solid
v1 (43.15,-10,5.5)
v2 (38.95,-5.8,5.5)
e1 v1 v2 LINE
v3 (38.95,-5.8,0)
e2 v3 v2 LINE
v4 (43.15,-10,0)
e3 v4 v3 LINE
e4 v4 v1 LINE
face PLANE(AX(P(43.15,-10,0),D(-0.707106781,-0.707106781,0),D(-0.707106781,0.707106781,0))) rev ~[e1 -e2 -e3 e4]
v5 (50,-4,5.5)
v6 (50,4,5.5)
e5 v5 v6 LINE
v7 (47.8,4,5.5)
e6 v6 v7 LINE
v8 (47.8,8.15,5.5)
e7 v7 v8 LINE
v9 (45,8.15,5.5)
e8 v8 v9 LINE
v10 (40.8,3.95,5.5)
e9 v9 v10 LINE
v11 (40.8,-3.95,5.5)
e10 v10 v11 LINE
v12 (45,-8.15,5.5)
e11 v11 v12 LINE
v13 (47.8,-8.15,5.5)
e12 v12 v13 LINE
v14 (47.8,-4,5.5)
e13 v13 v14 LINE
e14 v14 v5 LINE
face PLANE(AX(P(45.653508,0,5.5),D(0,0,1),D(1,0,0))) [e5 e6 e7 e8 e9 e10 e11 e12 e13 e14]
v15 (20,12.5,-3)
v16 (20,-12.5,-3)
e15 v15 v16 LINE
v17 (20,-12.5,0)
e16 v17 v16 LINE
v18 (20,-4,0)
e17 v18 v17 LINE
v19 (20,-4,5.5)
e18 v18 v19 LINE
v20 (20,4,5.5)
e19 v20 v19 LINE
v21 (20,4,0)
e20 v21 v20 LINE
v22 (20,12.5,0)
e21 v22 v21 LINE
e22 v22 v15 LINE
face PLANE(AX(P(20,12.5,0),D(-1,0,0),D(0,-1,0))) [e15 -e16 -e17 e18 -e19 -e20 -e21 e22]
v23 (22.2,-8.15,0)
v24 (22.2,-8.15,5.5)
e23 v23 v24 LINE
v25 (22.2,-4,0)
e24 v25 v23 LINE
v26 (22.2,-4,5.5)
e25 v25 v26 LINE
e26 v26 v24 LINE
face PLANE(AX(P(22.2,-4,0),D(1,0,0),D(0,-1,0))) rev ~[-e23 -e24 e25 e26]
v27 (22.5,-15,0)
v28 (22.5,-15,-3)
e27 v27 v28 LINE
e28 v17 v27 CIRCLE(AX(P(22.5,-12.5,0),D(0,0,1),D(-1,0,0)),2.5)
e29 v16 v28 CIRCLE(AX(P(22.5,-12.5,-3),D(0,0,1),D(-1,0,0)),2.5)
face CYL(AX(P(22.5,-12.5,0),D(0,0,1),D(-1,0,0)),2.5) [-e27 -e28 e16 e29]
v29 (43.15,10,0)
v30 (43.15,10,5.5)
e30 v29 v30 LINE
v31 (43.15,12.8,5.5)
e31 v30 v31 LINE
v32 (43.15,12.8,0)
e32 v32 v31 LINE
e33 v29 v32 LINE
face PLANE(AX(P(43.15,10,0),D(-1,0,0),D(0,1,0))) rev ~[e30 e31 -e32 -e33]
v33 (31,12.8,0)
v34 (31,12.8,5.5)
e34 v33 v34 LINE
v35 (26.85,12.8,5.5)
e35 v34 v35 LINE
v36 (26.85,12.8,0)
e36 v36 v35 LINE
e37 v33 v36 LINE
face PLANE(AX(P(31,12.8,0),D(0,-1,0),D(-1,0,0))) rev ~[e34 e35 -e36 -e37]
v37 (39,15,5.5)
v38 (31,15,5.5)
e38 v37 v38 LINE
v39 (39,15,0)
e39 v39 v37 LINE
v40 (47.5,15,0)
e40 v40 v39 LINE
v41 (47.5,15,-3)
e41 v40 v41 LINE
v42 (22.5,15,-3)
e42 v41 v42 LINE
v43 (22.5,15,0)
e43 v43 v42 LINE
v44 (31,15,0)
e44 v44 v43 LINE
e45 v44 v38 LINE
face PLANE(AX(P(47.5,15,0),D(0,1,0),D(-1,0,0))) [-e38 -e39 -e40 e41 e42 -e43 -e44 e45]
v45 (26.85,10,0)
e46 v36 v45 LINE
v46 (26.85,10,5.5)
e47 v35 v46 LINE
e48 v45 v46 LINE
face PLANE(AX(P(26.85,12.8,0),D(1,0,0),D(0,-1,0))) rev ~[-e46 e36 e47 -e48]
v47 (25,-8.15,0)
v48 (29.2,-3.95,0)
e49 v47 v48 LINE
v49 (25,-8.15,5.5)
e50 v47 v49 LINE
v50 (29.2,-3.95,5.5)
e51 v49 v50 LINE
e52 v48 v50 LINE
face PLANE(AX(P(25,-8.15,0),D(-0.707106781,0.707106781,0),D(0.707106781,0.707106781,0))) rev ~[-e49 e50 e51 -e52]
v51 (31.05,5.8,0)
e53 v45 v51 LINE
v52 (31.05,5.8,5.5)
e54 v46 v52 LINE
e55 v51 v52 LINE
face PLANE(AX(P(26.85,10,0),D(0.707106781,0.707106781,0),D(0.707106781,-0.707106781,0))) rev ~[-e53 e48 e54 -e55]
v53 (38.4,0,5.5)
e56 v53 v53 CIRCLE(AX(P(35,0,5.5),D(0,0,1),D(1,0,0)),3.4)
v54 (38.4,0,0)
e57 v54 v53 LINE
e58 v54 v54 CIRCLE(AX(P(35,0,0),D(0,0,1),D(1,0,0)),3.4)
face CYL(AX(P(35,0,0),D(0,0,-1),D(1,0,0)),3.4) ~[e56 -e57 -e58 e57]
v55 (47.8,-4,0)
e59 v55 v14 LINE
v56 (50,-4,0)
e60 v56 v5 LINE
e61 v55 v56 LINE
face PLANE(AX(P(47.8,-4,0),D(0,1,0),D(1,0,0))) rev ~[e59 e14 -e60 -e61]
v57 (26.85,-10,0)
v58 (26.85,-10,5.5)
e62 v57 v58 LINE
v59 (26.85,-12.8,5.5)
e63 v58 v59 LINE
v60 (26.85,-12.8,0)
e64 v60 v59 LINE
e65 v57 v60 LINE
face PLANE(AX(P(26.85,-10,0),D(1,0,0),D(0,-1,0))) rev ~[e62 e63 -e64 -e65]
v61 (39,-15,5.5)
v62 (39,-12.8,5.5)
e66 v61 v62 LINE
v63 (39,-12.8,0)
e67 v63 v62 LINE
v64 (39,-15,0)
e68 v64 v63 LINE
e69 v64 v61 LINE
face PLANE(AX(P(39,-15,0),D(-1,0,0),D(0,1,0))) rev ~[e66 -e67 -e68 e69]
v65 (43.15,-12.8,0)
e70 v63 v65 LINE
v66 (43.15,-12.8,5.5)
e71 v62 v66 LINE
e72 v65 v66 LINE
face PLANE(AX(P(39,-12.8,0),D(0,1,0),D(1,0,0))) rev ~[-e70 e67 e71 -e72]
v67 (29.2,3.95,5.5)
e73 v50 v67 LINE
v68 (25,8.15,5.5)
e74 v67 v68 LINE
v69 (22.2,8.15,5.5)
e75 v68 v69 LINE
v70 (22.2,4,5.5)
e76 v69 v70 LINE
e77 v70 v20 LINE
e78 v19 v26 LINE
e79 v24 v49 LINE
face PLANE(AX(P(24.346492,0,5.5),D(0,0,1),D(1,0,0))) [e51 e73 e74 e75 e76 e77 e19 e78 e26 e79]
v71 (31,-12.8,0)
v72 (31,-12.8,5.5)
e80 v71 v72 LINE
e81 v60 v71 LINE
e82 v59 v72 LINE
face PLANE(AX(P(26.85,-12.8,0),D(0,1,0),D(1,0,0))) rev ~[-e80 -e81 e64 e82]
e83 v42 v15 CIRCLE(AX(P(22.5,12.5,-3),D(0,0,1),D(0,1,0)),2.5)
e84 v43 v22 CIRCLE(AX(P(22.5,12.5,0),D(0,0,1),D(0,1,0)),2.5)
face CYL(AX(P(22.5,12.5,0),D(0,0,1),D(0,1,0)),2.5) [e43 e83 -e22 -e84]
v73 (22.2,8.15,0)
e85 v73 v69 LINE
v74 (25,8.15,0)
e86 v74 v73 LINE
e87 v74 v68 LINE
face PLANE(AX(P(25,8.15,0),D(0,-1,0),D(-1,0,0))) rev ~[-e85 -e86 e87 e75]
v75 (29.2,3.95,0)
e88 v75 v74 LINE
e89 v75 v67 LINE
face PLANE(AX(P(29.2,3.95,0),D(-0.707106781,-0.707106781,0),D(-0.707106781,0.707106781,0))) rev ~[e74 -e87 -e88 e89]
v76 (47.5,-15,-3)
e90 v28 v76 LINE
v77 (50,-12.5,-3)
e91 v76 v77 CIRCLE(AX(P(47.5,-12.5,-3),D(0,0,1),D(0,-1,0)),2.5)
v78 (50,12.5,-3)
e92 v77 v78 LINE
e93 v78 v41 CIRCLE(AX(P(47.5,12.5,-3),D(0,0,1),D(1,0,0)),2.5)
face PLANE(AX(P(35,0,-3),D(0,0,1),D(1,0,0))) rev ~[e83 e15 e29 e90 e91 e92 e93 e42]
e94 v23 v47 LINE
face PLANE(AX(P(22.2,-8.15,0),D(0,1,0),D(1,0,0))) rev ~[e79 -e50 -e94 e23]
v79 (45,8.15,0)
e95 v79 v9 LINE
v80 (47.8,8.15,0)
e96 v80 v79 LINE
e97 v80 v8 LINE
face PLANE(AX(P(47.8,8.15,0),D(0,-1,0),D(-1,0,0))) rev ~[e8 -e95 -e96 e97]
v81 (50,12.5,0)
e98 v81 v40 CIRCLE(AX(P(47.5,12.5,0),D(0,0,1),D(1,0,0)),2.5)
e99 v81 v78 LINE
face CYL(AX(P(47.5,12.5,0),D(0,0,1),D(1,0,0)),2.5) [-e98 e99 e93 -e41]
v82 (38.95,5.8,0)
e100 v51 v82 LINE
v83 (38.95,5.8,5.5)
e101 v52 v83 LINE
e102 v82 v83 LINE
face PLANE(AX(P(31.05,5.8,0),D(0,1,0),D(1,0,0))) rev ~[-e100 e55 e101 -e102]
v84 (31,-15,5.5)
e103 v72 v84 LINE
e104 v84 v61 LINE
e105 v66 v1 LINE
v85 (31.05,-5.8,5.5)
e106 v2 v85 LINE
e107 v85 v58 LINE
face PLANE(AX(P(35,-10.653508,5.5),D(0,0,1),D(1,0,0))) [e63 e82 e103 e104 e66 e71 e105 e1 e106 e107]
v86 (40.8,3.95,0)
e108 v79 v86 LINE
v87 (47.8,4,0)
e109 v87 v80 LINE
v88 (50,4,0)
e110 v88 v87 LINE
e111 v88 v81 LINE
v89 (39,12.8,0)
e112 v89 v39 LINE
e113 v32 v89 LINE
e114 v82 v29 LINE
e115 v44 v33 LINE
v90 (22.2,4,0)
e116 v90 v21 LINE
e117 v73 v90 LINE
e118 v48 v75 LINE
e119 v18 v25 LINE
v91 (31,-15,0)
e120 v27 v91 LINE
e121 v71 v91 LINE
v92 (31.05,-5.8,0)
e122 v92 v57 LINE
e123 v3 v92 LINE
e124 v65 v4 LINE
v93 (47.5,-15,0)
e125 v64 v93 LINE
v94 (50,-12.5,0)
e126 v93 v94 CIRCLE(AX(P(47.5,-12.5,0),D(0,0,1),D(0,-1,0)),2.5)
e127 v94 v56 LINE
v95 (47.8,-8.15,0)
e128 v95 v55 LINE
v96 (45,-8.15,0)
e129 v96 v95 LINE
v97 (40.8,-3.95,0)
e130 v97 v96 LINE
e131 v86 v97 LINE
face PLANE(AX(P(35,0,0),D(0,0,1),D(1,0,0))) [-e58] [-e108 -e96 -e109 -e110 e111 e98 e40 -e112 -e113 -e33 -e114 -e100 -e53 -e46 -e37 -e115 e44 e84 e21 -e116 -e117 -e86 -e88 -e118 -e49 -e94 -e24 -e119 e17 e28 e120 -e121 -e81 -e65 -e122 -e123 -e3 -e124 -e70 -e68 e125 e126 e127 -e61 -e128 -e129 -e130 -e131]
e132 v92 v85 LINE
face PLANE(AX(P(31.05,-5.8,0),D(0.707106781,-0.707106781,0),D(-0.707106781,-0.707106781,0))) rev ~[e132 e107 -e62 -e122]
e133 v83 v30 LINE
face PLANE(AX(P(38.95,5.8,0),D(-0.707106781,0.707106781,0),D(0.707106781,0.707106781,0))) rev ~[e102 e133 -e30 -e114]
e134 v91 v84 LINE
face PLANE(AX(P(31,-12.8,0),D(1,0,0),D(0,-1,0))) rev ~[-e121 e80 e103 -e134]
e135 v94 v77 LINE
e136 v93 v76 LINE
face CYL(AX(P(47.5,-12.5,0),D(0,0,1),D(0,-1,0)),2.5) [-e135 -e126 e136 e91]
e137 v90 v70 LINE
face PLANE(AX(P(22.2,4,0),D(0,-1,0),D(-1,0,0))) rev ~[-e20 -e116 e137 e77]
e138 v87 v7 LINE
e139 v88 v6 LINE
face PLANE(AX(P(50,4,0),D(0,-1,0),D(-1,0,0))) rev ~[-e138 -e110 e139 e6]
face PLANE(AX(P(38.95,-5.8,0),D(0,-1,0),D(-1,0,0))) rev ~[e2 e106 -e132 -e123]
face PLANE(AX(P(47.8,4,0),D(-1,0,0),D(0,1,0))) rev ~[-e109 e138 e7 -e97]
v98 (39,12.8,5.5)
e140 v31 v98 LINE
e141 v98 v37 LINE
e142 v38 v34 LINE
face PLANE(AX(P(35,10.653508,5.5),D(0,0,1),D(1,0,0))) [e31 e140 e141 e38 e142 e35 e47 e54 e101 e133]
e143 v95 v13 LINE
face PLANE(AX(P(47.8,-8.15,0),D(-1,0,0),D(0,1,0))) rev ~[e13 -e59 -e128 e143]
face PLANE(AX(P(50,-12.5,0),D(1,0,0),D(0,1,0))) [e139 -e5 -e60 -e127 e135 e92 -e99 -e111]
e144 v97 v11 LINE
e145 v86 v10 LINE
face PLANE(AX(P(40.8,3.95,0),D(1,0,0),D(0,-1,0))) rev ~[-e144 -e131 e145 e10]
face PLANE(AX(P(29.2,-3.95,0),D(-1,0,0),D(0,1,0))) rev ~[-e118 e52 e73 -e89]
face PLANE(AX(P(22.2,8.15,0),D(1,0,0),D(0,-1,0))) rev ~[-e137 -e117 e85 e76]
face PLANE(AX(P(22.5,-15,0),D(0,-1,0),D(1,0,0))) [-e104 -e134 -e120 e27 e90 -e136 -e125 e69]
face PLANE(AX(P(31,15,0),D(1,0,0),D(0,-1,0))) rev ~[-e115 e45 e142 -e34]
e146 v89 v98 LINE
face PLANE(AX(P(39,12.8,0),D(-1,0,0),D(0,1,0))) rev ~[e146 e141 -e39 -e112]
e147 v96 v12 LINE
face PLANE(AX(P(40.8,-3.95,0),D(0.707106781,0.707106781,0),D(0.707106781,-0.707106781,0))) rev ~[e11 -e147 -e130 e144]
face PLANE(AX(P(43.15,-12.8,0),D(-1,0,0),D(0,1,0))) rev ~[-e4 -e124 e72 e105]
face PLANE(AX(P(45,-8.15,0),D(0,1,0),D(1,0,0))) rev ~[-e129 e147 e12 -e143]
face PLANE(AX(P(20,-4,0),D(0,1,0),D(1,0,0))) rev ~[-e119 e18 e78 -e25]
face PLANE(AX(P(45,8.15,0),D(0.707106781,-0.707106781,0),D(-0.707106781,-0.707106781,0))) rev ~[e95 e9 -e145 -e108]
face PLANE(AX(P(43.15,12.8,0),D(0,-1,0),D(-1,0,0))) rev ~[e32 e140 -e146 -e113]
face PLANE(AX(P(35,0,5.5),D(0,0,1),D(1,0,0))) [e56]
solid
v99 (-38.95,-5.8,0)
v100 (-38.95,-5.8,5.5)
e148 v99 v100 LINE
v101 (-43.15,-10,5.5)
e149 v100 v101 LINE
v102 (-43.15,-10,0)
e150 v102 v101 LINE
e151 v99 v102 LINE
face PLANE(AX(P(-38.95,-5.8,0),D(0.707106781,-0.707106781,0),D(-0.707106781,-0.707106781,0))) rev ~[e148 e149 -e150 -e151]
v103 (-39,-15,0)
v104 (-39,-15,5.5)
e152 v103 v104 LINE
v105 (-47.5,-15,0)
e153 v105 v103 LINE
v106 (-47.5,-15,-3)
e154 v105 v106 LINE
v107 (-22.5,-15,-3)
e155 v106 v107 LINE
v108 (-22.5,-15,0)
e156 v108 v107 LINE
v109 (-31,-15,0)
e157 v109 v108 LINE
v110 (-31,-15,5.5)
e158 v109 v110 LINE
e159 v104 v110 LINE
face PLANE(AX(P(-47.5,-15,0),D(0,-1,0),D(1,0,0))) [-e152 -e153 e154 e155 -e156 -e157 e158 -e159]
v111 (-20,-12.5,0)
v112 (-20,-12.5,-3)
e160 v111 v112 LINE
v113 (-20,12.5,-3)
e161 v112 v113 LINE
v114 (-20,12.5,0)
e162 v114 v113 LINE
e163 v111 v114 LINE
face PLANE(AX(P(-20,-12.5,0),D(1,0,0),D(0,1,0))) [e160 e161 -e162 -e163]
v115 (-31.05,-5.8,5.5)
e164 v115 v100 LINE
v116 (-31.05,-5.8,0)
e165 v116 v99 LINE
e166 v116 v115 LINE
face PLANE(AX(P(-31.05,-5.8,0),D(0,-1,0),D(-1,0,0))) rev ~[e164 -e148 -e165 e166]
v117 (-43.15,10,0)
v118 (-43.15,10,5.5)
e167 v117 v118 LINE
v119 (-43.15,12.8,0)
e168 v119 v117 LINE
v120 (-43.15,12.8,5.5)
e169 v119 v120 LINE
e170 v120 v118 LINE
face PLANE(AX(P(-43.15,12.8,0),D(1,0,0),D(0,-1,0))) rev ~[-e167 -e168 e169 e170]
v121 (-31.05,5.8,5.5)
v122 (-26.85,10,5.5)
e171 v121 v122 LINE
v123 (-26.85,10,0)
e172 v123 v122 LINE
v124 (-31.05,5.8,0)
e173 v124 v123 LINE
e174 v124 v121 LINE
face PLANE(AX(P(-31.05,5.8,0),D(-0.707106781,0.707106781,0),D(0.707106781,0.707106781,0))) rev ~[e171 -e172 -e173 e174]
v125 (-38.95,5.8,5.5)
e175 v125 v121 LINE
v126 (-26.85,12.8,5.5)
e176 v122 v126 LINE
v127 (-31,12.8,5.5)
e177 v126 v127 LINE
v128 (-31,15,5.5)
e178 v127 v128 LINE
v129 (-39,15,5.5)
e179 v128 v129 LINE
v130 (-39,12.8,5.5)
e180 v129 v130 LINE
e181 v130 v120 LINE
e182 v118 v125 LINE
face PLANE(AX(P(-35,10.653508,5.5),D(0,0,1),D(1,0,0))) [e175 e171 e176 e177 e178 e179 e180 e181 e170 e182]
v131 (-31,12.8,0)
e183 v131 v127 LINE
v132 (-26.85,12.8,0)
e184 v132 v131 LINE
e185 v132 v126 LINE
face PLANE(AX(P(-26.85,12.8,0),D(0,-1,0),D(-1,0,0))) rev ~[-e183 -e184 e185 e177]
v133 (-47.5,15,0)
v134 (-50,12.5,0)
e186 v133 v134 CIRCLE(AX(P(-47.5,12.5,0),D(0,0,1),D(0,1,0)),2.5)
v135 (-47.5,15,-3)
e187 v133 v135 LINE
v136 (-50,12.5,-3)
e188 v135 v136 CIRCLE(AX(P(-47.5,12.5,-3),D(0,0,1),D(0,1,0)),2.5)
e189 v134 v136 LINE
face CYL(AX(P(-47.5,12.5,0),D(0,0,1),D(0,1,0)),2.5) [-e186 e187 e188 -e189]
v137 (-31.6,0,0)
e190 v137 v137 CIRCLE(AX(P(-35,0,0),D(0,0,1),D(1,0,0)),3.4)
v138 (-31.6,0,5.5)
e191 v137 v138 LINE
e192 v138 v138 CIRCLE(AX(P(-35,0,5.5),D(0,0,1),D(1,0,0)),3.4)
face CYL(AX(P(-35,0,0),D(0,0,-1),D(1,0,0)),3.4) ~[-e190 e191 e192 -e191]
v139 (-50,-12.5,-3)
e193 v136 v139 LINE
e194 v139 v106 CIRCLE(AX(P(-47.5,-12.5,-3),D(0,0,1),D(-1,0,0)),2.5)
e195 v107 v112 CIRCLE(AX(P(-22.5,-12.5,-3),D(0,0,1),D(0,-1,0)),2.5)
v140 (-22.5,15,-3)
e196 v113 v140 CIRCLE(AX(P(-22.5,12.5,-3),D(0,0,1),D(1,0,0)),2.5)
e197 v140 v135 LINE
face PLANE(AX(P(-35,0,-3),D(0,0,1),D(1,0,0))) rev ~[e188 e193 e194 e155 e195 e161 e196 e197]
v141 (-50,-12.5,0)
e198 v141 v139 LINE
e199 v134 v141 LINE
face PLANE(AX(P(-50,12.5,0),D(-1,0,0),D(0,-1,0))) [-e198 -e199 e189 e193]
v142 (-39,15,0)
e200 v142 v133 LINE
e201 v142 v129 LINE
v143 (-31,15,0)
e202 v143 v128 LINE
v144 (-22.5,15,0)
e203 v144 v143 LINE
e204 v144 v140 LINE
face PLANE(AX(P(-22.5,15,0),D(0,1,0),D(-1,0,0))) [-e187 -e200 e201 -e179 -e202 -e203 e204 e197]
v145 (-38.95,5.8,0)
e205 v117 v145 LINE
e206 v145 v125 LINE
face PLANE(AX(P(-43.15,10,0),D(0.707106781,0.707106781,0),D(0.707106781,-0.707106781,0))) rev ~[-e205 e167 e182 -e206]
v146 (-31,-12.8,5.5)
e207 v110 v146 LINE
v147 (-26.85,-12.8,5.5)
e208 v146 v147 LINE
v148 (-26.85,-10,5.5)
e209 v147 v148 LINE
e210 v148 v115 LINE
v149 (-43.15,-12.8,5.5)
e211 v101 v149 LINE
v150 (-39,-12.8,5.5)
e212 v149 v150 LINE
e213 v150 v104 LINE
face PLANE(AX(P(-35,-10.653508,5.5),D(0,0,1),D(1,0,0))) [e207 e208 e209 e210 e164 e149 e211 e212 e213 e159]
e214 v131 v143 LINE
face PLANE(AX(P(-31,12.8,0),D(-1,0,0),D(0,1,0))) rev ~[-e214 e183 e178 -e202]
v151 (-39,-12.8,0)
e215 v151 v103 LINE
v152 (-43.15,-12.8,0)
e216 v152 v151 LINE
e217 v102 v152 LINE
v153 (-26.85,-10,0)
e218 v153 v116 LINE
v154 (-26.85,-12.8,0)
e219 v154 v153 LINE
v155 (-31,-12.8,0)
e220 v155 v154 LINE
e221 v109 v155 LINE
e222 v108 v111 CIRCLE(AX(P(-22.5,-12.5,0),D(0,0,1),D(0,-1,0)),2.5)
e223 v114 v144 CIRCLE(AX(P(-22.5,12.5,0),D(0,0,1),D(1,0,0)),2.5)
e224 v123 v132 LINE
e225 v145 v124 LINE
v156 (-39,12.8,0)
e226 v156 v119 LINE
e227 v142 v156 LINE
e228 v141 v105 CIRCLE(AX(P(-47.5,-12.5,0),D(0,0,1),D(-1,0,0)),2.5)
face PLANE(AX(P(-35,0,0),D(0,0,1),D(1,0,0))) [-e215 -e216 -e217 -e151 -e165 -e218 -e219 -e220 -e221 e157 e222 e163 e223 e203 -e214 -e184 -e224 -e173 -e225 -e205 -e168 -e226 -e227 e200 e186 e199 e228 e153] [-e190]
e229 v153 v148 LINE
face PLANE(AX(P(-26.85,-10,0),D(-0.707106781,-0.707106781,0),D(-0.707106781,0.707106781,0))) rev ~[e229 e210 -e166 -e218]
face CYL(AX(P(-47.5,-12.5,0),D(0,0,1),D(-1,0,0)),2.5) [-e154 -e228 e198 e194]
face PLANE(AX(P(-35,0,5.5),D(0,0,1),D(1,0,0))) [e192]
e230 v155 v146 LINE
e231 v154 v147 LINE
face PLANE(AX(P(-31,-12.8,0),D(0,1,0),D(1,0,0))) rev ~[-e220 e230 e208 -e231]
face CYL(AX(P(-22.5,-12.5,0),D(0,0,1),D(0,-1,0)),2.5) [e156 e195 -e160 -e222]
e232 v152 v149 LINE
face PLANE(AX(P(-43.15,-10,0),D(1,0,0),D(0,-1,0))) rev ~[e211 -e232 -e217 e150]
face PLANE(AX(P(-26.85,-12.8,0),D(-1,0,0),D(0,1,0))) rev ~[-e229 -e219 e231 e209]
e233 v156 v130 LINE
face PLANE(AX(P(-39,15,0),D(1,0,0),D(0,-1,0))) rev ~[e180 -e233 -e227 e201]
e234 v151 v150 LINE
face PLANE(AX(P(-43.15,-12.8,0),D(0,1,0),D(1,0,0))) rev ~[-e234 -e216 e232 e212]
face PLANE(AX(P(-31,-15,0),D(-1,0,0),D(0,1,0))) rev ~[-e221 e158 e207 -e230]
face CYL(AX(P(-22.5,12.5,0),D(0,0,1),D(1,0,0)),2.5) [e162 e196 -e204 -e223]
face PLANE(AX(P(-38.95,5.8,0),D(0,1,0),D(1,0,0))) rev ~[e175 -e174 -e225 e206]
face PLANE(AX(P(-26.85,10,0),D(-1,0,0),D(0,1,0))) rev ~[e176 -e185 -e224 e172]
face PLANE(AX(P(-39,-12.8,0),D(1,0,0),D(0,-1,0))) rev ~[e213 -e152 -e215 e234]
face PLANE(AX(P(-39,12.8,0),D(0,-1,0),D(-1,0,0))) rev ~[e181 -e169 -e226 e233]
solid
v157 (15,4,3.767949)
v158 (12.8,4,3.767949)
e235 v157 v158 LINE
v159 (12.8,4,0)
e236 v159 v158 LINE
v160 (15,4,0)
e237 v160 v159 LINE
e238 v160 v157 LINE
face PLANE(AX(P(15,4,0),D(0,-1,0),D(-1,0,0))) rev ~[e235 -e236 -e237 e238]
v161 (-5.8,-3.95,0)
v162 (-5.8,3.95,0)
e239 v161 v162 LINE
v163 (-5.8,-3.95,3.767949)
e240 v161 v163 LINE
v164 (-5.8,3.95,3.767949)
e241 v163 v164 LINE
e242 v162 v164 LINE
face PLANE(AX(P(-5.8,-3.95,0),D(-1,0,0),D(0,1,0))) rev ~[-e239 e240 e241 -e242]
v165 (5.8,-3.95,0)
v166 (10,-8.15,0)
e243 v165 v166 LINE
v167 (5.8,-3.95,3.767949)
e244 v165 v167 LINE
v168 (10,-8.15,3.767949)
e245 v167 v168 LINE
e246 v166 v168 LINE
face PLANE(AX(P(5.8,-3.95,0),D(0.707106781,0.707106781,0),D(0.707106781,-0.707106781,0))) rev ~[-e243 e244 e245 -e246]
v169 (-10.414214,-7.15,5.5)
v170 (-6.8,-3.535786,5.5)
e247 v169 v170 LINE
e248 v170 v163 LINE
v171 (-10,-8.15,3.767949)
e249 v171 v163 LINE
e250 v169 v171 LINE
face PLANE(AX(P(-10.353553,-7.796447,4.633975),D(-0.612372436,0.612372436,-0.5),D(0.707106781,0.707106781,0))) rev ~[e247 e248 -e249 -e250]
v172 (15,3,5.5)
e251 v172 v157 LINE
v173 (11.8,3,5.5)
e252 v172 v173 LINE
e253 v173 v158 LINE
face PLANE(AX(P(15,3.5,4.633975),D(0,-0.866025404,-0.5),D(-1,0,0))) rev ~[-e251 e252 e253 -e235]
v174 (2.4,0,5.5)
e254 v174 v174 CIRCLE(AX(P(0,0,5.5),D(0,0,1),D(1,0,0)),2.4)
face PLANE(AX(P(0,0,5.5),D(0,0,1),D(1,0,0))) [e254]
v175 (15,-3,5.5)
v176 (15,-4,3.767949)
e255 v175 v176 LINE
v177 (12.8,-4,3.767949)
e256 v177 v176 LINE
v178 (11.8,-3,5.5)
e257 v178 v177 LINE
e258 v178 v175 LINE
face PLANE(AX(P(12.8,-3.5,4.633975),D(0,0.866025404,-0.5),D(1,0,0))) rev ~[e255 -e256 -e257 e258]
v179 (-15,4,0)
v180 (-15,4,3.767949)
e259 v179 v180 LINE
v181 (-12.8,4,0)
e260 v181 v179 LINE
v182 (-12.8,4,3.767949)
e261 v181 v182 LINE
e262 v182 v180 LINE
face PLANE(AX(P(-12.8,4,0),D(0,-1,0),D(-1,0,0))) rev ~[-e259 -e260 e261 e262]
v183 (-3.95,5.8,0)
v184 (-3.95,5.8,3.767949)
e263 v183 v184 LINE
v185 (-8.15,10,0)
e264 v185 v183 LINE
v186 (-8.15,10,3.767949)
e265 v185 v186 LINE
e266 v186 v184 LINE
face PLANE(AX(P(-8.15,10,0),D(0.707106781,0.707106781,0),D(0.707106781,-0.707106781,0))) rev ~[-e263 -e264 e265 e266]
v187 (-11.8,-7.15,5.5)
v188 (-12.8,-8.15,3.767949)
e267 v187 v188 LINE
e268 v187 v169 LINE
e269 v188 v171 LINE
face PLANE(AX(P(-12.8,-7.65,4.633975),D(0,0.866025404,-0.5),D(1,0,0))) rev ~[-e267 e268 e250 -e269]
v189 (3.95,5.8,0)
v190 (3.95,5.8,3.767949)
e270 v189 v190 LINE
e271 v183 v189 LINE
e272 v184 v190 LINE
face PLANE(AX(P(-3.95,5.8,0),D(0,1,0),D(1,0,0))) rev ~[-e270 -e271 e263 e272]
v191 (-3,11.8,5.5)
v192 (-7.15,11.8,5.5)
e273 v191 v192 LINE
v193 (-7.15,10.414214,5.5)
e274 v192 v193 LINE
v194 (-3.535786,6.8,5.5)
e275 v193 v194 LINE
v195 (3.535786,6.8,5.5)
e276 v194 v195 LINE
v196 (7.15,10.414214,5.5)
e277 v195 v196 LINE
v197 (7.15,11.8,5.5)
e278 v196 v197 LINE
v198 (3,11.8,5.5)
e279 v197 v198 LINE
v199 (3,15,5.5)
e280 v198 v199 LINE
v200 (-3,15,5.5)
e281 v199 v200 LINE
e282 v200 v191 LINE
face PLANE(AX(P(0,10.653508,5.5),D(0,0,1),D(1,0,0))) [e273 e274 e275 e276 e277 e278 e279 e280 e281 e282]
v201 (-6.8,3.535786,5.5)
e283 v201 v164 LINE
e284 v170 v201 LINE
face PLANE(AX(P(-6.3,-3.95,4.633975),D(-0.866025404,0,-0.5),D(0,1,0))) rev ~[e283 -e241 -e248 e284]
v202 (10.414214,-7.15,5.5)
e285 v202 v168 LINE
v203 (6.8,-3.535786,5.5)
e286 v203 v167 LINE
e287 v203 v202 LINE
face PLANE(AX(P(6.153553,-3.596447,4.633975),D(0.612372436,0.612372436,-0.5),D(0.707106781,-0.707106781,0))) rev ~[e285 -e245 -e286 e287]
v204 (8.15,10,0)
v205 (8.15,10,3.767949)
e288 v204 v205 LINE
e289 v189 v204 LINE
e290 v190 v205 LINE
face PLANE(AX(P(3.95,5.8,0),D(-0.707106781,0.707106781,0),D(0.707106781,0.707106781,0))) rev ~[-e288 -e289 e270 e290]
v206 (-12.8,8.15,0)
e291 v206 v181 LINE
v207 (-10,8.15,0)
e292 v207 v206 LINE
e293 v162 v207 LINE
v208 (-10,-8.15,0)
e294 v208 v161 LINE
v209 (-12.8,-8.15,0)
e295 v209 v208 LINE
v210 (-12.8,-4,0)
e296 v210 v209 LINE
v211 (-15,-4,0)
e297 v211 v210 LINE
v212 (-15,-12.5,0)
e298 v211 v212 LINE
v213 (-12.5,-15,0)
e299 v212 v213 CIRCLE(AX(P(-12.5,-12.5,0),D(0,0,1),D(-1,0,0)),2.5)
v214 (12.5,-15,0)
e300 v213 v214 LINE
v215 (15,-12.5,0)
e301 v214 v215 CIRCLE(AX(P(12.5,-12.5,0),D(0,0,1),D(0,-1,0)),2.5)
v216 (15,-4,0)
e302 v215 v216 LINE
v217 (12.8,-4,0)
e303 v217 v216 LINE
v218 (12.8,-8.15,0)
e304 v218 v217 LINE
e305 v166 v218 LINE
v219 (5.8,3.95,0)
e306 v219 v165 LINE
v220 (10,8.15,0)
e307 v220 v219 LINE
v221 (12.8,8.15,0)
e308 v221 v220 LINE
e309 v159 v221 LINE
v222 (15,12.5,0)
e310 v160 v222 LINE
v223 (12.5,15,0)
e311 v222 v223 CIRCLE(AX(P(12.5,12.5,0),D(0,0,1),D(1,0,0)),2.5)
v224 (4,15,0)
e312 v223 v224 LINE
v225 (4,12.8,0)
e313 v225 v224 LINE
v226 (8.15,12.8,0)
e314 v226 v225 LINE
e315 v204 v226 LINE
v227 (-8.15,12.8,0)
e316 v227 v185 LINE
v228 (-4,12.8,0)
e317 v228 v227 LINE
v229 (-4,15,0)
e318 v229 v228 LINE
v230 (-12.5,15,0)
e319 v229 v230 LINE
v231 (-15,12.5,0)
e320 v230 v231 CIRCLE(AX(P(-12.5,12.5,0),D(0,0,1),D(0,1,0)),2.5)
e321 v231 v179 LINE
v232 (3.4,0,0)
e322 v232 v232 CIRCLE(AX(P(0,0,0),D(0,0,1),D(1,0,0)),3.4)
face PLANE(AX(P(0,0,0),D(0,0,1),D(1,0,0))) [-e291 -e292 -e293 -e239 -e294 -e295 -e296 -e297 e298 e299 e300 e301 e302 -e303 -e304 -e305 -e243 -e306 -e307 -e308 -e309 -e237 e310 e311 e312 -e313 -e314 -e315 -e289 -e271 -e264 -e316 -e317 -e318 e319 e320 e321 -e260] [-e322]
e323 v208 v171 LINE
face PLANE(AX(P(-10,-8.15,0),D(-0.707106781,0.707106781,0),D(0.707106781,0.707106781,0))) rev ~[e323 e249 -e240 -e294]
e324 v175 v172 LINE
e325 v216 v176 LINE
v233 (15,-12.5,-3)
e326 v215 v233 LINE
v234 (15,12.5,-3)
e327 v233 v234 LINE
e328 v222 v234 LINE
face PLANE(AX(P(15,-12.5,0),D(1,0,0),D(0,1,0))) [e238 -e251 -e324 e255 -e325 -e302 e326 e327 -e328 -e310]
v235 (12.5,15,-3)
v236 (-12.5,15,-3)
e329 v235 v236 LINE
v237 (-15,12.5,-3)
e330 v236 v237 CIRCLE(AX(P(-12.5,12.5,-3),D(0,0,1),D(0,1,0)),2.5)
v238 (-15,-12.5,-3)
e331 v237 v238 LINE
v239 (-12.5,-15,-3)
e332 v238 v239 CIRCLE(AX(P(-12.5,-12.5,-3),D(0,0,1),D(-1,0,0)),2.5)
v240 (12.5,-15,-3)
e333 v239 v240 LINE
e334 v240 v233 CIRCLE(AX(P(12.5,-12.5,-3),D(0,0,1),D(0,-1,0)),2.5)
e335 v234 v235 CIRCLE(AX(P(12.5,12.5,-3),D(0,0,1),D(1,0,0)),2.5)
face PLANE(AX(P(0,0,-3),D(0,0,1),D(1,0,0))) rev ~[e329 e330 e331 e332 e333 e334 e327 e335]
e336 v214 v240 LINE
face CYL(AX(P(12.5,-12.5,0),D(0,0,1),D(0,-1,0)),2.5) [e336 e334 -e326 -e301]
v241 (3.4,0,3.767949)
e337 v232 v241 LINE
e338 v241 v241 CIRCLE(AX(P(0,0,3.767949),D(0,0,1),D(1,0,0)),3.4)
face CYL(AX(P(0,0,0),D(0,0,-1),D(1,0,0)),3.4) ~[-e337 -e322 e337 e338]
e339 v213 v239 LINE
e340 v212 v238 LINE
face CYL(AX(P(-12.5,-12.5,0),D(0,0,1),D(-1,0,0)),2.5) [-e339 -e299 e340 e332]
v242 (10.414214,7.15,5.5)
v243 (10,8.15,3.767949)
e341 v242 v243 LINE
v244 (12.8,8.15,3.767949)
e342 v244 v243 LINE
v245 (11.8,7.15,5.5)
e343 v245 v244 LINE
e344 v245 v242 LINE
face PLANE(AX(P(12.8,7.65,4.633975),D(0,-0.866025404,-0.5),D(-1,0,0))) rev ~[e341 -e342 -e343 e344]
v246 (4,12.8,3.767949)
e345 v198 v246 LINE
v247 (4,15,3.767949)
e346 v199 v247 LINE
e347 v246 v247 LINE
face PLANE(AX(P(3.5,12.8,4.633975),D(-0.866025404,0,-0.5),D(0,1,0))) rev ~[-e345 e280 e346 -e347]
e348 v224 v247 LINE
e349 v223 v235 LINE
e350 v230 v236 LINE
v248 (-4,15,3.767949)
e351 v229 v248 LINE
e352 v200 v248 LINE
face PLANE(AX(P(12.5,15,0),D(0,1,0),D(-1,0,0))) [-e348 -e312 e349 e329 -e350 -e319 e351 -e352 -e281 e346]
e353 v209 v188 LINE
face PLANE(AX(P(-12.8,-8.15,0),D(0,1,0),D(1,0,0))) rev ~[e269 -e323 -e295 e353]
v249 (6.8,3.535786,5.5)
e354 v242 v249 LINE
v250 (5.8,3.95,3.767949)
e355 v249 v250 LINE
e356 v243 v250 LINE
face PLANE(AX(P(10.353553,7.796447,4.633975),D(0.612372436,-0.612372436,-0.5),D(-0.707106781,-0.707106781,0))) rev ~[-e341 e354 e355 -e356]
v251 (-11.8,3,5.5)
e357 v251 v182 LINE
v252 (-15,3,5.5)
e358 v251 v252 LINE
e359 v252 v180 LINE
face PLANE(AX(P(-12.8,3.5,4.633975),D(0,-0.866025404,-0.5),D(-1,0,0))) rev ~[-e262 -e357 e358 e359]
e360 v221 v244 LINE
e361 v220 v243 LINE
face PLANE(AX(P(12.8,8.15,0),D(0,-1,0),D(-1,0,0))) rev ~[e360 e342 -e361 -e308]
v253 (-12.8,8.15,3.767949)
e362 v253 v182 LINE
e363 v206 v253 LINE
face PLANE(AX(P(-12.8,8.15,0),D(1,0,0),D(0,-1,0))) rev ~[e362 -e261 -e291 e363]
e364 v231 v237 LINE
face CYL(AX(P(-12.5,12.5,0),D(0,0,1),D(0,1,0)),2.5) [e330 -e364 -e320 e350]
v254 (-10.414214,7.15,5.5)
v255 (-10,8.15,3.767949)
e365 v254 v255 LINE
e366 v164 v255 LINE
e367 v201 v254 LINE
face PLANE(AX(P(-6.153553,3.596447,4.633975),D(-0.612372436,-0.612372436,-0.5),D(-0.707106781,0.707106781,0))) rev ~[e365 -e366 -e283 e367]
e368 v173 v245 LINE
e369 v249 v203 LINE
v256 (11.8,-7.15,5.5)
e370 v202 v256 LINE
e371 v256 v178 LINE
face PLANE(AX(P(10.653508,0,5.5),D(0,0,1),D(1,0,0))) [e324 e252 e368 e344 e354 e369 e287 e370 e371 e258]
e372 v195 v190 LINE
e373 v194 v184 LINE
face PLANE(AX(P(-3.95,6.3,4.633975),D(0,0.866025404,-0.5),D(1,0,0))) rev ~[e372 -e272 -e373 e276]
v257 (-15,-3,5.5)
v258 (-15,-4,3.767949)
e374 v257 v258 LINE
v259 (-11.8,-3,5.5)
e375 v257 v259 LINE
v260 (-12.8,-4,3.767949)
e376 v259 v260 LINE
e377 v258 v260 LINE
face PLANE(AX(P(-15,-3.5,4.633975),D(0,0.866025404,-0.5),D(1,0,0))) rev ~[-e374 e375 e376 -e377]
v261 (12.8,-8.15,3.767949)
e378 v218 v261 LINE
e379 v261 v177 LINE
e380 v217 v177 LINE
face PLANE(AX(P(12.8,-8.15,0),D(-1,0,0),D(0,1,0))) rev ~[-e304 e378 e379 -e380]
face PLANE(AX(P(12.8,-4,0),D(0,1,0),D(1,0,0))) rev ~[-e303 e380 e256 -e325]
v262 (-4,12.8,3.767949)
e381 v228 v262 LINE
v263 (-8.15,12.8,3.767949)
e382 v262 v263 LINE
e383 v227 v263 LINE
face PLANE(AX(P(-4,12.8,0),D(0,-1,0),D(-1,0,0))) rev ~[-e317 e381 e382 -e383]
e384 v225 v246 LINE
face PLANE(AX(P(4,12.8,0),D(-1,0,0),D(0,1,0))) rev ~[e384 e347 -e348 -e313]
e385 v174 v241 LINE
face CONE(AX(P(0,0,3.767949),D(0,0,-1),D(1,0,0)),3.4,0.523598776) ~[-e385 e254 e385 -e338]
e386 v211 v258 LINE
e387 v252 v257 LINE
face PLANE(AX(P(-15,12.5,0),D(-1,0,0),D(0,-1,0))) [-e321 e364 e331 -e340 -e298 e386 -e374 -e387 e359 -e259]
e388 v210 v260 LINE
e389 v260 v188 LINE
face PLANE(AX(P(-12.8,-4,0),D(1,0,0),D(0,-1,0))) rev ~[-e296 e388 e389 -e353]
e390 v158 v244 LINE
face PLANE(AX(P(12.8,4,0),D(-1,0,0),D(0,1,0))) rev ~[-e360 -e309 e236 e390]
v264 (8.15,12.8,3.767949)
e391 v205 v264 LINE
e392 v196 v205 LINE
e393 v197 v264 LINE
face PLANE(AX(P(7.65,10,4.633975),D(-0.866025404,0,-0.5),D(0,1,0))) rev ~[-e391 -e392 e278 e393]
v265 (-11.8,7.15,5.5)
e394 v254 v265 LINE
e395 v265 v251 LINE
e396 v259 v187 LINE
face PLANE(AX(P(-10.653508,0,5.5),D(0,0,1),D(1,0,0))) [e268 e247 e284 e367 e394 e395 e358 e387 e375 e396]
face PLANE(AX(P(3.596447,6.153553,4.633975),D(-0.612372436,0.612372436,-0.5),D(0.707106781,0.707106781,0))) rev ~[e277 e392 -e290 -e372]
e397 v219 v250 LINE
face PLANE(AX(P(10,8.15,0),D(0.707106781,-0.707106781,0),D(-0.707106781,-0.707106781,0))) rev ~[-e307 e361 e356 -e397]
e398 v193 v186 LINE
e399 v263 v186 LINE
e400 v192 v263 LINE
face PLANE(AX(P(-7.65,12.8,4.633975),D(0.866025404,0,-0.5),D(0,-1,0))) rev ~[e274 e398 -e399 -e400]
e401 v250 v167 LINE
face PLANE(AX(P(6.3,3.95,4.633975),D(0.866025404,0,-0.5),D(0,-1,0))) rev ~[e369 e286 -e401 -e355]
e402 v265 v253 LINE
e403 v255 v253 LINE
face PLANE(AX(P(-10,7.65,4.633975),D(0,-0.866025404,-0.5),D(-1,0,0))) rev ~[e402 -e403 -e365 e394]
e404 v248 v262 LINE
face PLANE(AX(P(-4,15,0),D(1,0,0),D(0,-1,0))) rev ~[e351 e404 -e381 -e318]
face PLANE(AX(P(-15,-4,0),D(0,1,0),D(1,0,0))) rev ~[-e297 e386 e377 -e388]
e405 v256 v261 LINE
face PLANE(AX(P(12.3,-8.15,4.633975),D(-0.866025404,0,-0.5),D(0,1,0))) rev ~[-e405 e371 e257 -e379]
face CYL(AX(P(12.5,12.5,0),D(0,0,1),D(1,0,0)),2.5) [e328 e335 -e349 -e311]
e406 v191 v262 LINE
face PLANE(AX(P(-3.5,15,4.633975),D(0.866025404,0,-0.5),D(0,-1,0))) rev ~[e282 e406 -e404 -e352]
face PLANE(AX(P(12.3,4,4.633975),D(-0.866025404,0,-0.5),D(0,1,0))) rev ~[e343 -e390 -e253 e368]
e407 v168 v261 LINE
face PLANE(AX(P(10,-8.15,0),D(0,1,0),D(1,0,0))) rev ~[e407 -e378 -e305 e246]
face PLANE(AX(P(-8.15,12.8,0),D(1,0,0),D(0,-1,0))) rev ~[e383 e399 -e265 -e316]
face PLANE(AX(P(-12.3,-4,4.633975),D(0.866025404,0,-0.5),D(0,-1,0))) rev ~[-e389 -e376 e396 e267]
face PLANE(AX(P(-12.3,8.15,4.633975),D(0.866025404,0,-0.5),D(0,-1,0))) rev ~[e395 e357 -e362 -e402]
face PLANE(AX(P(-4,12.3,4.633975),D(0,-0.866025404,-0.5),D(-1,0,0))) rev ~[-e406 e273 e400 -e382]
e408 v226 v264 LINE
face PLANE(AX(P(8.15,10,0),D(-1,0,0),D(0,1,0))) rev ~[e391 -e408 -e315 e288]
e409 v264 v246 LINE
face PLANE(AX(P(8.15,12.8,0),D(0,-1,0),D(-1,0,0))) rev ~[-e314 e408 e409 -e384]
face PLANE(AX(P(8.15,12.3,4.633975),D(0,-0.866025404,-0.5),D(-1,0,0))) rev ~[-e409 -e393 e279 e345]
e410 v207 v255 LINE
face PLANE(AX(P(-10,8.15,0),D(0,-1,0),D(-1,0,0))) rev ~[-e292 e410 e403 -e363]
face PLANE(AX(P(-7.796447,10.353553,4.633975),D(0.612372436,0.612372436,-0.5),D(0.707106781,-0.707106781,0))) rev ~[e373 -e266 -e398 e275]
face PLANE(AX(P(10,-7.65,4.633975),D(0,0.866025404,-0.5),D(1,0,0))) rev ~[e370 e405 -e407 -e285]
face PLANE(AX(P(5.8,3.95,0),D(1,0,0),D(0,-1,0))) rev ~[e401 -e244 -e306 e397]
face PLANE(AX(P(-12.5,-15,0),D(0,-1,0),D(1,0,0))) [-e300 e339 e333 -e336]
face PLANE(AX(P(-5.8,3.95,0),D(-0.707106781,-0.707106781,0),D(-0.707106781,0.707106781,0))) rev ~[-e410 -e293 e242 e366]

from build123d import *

# Parameters (mm, degrees)
F0_R       = 3.4
F1_DEPTH   = 3
F2_DEPTH   = 5.5
F3_DEPTH   = 3
F4_DEPTH   = 5.5
F5_DEPTH   = 3
F6_DEPTH   = 5.5
F7_SIZE2   = 1.7320508076
F7_SIZE    = 1
F7_2_SIZE2 = 1.7320508076
F7_2_SIZE  = 1
F7_3_SIZE2 = 1.7320508076
F7_3_SIZE  = 1
F8_SIZE2   = 1.7320508076
F8_SIZE    = 1


with BuildPart() as f1:
    # F0 (on Top) → F1 (new body)
    with BuildSketch(Plane.XY):
        with BuildLine():
            Line((-4, 15), (-12.5, 15))
            ThreePointArc((-12.5, 15), (-14.267766953, 14.267766953), (-15, 12.5))
            Line((-15, 12.5), (-15, 4))
            Line((-15, 4), (-12.8, 4))
            Line((-12.8, 4), (-12.8, 8.15))
            Line((-12.8, 8.15), (-10, 8.15))
            Line((-10, 8.15), (-5.8, 3.95))
            Line((-5.8, 3.95), (-5.8, -3.95))
            Line((-5.8, -3.95), (-10, -8.15))
            Line((-10, -8.15), (-12.8, -8.15))
            Line((-12.8, -8.15), (-12.8, -4))
            Line((-12.8, -4), (-15, -4))
            Line((-15, -4), (-15, -12.5))
            ThreePointArc((-15, -12.5), (-14.267766953, -14.267766953), (-12.5, -15))
            Line((-12.5, -15), (-4, -15))
            Line((-4, -15), (-4, -12.8))
            Line((-4, -12.8), (-8.15, -12.8))
            Line((-8.15, -12.8), (-8.15, -10))
            Line((-8.15, -10), (-3.95, -5.8))
            Line((-3.95, -5.8), (3.95, -5.8))
            Line((3.95, -5.8), (8.15, -10))
            Line((8.15, -10), (8.15, -12.8))
            Line((8.15, -12.8), (4, -12.8))
            Line((4, -12.8), (4, -15))
            Line((4, -15), (12.5, -15))
            ThreePointArc((12.5, -15), (14.267766953, -14.267766953), (15, -12.5))
            Line((15, -12.5), (15, -4))
            Line((15, -4), (12.8, -4))
            Line((12.8, -4), (12.8, -8.15))
            Line((12.8, -8.15), (10, -8.15))
            Line((10, -8.15), (5.8, -3.95))
            Line((5.8, -3.95), (5.8, 3.95))
            Line((5.8, 3.95), (10, 8.15))
            Line((10, 8.15), (12.8, 8.15))
            Line((12.8, 8.15), (12.8, 4))
            Line((12.8, 4), (15, 4))
            Line((15, 4), (15, 12.5))
            ThreePointArc((15, 12.5), (14.267766953, 14.267766953), (12.5, 15))
            Line((12.5, 15), (4, 15))
            Line((4, 15), (4, 12.8))
            Line((4, 12.8), (8.15, 12.8))
            Line((8.15, 12.8), (8.15, 10))
            Line((8.15, 10), (3.95, 5.8))
            Line((3.95, 5.8), (-3.95, 5.8))
            Line((-3.95, 5.8), (-8.15, 10))
            Line((-8.15, 10), (-8.15, 12.8))
            Line((-8.15, 12.8), (-4, 12.8))
            Line((-4, 12.8), (-4, 15))
        make_face()
        Circle(F0_R, mode=Mode.SUBTRACT)
        Polygon((15, -4), (15, 4), (12.8, 4), (12.8, 8.15), (10, 8.15), (5.8, 3.95), (5.8, -3.95), (10, -8.15), (12.8, -8.15), (12.8, -4), align=None)
        Polygon((-12.8, 4), (-15, 4), (-15, -4), (-12.8, -4), (-12.8, -8.15), (-10, -8.15), (-5.8, -3.95), (-5.8, 3.95), (-10, 8.15), (-12.8, 8.15), align=None)
        Polygon((-4, -12.8), (-4, -15), (4, -15), (4, -12.8), (8.15, -12.8), (8.15, -10), (3.95, -5.8), (-3.95, -5.8), (-8.15, -10), (-8.15, -12.8), align=None)
        Polygon((4, 15), (-4, 15), (-4, 12.8), (-8.15, 12.8), (-8.15, 10), (-3.95, 5.8), (3.95, 5.8), (8.15, 10), (8.15, 12.8), (4, 12.8), align=None)
        Circle(F0_R)
    extrude(amount=-F1_DEPTH)

    # F0 (on Top) → F2 (join)
    with BuildSketch(Plane.XY):
        Polygon((-12.8, 4), (-15, 4), (-15, -4), (-12.8, -4), (-12.8, -8.15), (-10, -8.15), (-5.8, -3.95), (-5.8, 3.95), (-10, 8.15), (-12.8, 8.15), align=None)
        Polygon((4, 15), (-4, 15), (-4, 12.8), (-8.15, 12.8), (-8.15, 10), (-3.95, 5.8), (3.95, 5.8), (8.15, 10), (8.15, 12.8), (4, 12.8), align=None)
        Polygon((15, -4), (15, 4), (12.8, 4), (12.8, 8.15), (10, 8.15), (5.8, 3.95), (5.8, -3.95), (10, -8.15), (12.8, -8.15), (12.8, -4), align=None)
        Circle(F0_R)
    extrude(amount=F2_DEPTH)

    # F7
    f7_edges = [f1.edges().sort_by_distance(p)[0] for p in [
        (-7.9, -6.05, 5.5),
        (-5.8, 0, 5.5),
        (-7.9, 6.05, 5.5),
        (-11.4, 8.15, 5.5),
        (-12.8, 6.075, 5.5),
        (-13.9, 4, 5.5),
        (-13.9, -4, 5.5),
        (-12.8, -6.075, 5.5),
        (-11.4, -8.15, 5.5),
    ]]
    f7_side = f1.faces().sort_by_distance((-10.334578, 0, 5.5))[0]
    chamfer(f7_edges, length=F7_SIZE, length2=F7_SIZE2, reference=f7_side)

    # F7#2
    f7_2_edges = [f1.edges().sort_by_distance(p)[0] for p in [
        (-3.4, 0, 5.5),
    ]]
    f7_2_side = f1.faces().sort_by_distance((0, 0, 5.5))[0]
    chamfer(f7_2_edges, length=F7_2_SIZE, length2=F7_2_SIZE2, reference=f7_2_side)

    # F7#3
    f7_3_edges = [f1.edges().sort_by_distance(p)[0] for p in [
        (13.9, -4, 5.5),
        (12.8, -6.075, 5.5),
        (11.4, -8.15, 5.5),
        (7.9, -6.05, 5.5),
        (5.8, 0, 5.5),
        (7.9, 6.05, 5.5),
        (11.4, 8.15, 5.5),
        (12.8, 6.075, 5.5),
        (13.9, 4, 5.5),
    ]]
    f7_3_side = f1.faces().sort_by_distance((10.334578, 0, 5.5))[0]
    chamfer(f7_3_edges, length=F7_3_SIZE, length2=F7_3_SIZE2, reference=f7_3_side)

    # F8
    f8_edges = [f1.edges().sort_by_distance(p)[0] for p in [
        (-8.15, 11.4, 5.5),
        (-6.05, 7.9, 5.5),
        (0, 5.8, 5.5),
        (6.05, 7.9, 5.5),
        (8.15, 11.4, 5.5),
        (6.075, 12.8, 5.5),
        (-6.075, 12.8, 5.5),
        (-4, 13.9, 5.5),
        (4, 13.9, 5.5),
    ]]
    f8_side = f1.faces().sort_by_distance((0, 10.334578, 5.5))[0]
    chamfer(f8_edges, length=F8_SIZE, length2=F8_SIZE2, reference=f8_side)


with BuildPart() as f3:
    # F0 (on Top) → F3 (new body, through all)
    with BuildSketch(Plane.XY):
        with BuildLine():
            ThreePointArc((-20, 12.5), (-20.732233047, 14.267766953), (-22.5, 15))
            Line((-22.5, 15), (-31, 15))
            Line((-31, 15), (-31, 12.8))
            Line((-31, 12.8), (-26.85, 12.8))
            Line((-26.85, 12.8), (-26.85, 10))
            Line((-26.85, 10), (-31.05, 5.8))
            Line((-31.05, 5.8), (-38.95, 5.8))
            Line((-38.95, 5.8), (-43.15, 10))
            Line((-43.15, 10), (-43.15, 12.8))
            Line((-43.15, 12.8), (-39, 12.8))
            Line((-39, 12.8), (-39, 15))
            Line((-39, 15), (-47.5, 15))
            ThreePointArc((-47.5, 15), (-49.267766953, 14.267766953), (-50, 12.5))
            Line((-50, 12.5), (-50, 4))
            Line((-50, 4), (-47.8, 4))
            Line((-47.8, 4), (-47.8, 8.15))
            Line((-47.8, 8.15), (-45, 8.15))
            Line((-45, 8.15), (-40.8, 3.95))
            Line((-40.8, 3.95), (-40.8, -3.95))
            Line((-40.8, -3.95), (-45, -8.15))
            Line((-45, -8.15), (-47.8, -8.15))
            Line((-47.8, -8.15), (-47.8, -4))
            Line((-47.8, -4), (-50, -4))
            Line((-50, -4), (-50, -12.5))
            ThreePointArc((-50, -12.5), (-49.267766953, -14.267766953), (-47.5, -15))
            Line((-47.5, -15), (-39, -15))
            Line((-39, -15), (-39, -12.8))
            Line((-39, -12.8), (-43.15, -12.8))
            Line((-43.15, -12.8), (-43.15, -10))
            Line((-43.15, -10), (-38.95, -5.8))
            Line((-38.95, -5.8), (-31.05, -5.8))
            Line((-31.05, -5.8), (-26.85, -10))
            Line((-26.85, -10), (-26.85, -12.8))
            Line((-26.85, -12.8), (-31, -12.8))
            Line((-31, -12.8), (-31, -15))
            Line((-31, -15), (-22.5, -15))
            ThreePointArc((-22.5, -15), (-20.732233047, -14.267766953), (-20, -12.5))
            Line((-20, -12.5), (-20, -4))
            Line((-20, -4), (-22.2, -4))
            Line((-22.2, -4), (-22.2, -8.15))
            Line((-22.2, -8.15), (-25, -8.15))
            Line((-25, -8.15), (-29.2, -3.95))
            Line((-29.2, -3.95), (-29.2, 3.95))
            Line((-29.2, 3.95), (-25, 8.15))
            Line((-25, 8.15), (-22.2, 8.15))
            Line((-22.2, 8.15), (-22.2, 4))
            Line((-22.2, 4), (-20, 4))
            Line((-20, 4), (-20, 12.5))
        make_face()
        with Locations((-35, 0)):
            Circle(F0_R, mode=Mode.SUBTRACT)
        Polygon((-39, -15), (-31, -15), (-31, -12.8), (-26.85, -12.8), (-26.85, -10), (-31.05, -5.8), (-38.95, -5.8), (-43.15, -10), (-43.15, -12.8), (-39, -12.8), align=None)
        Polygon((-20, -4), (-20, 4), (-22.2, 4), (-22.2, 8.15), (-25, 8.15), (-29.2, 3.95), (-29.2, -3.95), (-25, -8.15), (-22.2, -8.15), (-22.2, -4), align=None)
        Polygon((-31, 12.8), (-31, 15), (-39, 15), (-39, 12.8), (-43.15, 12.8), (-43.15, 10), (-38.95, 5.8), (-31.05, 5.8), (-26.85, 10), (-26.85, 12.8), align=None)
        Polygon((-47.8, 4), (-50, 4), (-50, -4), (-47.8, -4), (-47.8, -8.15), (-45, -8.15), (-40.8, -3.95), (-40.8, 3.95), (-45, 8.15), (-47.8, 8.15), align=None)
        with Locations((-35, 0)):
            Circle(F0_R)
    extrude(amount=-F3_DEPTH)

    # F0 (on Top) → F4 (join, through all)
    with BuildSketch(Plane.XY):
        Polygon((-31, 12.8), (-31, 15), (-39, 15), (-39, 12.8), (-43.15, 12.8), (-43.15, 10), (-38.95, 5.8), (-31.05, 5.8), (-26.85, 10), (-26.85, 12.8), align=None)
        with Locations((-35, 0)):
            Circle(F0_R)
        Polygon((-39, -15), (-31, -15), (-31, -12.8), (-26.85, -12.8), (-26.85, -10), (-31.05, -5.8), (-38.95, -5.8), (-43.15, -10), (-43.15, -12.8), (-39, -12.8), align=None)
    extrude(amount=F4_DEPTH)


with BuildPart() as f5:
    # F0 (on Top) → F5 (new body, through all)
    with BuildSketch(Plane.XY):
        with BuildLine():
            ThreePointArc((47.5, -15), (49.267766953, -14.267766953), (50, -12.5))
            Line((50, -12.5), (50, -4))
            Line((50, -4), (47.8, -4))
            Line((47.8, -4), (47.8, -8.15))
            Line((47.8, -8.15), (45, -8.15))
            Line((45, -8.15), (40.8, -3.95))
            Line((40.8, -3.95), (40.8, 3.95))
            Line((40.8, 3.95), (45, 8.15))
            Line((45, 8.15), (47.8, 8.15))
            Line((47.8, 8.15), (47.8, 4))
            Line((47.8, 4), (50, 4))
            Line((50, 4), (50, 12.5))
            ThreePointArc((50, 12.5), (49.267766953, 14.267766953), (47.5, 15))
            Line((47.5, 15), (39, 15))
            Line((39, 15), (39, 12.8))
            Line((39, 12.8), (43.15, 12.8))
            Line((43.15, 12.8), (43.15, 10))
            Line((43.15, 10), (38.95, 5.8))
            Line((38.95, 5.8), (31.05, 5.8))
            Line((31.05, 5.8), (26.85, 10))
            Line((26.85, 10), (26.85, 12.8))
            Line((26.85, 12.8), (31, 12.8))
            Line((31, 12.8), (31, 15))
            Line((31, 15), (22.5, 15))
            ThreePointArc((22.5, 15), (20.732233047, 14.267766953), (20, 12.5))
            Line((20, 12.5), (20, 4))
            Line((20, 4), (22.2, 4))
            Line((22.2, 4), (22.2, 8.15))
            Line((22.2, 8.15), (25, 8.15))
            Line((25, 8.15), (29.2, 3.95))
            Line((29.2, 3.95), (29.2, -3.95))
            Line((29.2, -3.95), (25, -8.15))
            Line((25, -8.15), (22.2, -8.15))
            Line((22.2, -8.15), (22.2, -4))
            Line((22.2, -4), (20, -4))
            Line((20, -4), (20, -12.5))
            ThreePointArc((20, -12.5), (20.732233047, -14.267766953), (22.5, -15))
            Line((22.5, -15), (31, -15))
            Line((31, -15), (31, -12.8))
            Line((31, -12.8), (26.85, -12.8))
            Line((26.85, -12.8), (26.85, -10))
            Line((26.85, -10), (31.05, -5.8))
            Line((31.05, -5.8), (38.95, -5.8))
            Line((38.95, -5.8), (43.15, -10))
            Line((43.15, -10), (43.15, -12.8))
            Line((43.15, -12.8), (39, -12.8))
            Line((39, -12.8), (39, -15))
            Line((39, -15), (47.5, -15))
        make_face()
        with Locations((35, 0)):
            Circle(F0_R, mode=Mode.SUBTRACT)
        Polygon((39, 12.8), (39, 15), (31, 15), (31, 12.8), (26.85, 12.8), (26.85, 10), (31.05, 5.8), (38.95, 5.8), (43.15, 10), (43.15, 12.8), align=None)
        Polygon((20, 4), (20, -4), (22.2, -4), (22.2, -8.15), (25, -8.15), (29.2, -3.95), (29.2, 3.95), (25, 8.15), (22.2, 8.15), (22.2, 4), align=None)
        Polygon((31, -15), (39, -15), (39, -12.8), (43.15, -12.8), (43.15, -10), (38.95, -5.8), (31.05, -5.8), (26.85, -10), (26.85, -12.8), (31, -12.8), align=None)
        Polygon((47.8, -4), (50, -4), (50, 4), (47.8, 4), (47.8, 8.15), (45, 8.15), (40.8, 3.95), (40.8, -3.95), (45, -8.15), (47.8, -8.15), align=None)
        with Locations((35, 0)):
            Circle(F0_R)
    extrude(amount=-F5_DEPTH)

    # F0 (on Top) → F6 (join, through all)
    with BuildSketch(Plane.XY):
        Polygon((20, 4), (20, -4), (22.2, -4), (22.2, -8.15), (25, -8.15), (29.2, -3.95), (29.2, 3.95), (25, 8.15), (22.2, 8.15), (22.2, 4), align=None)
        Polygon((39, 12.8), (39, 15), (31, 15), (31, 12.8), (26.85, 12.8), (26.85, 10), (31.05, 5.8), (38.95, 5.8), (43.15, 10), (43.15, 12.8), align=None)
        Polygon((47.8, -4), (50, -4), (50, 4), (47.8, 4), (47.8, 8.15), (45, 8.15), (40.8, 3.95), (40.8, -3.95), (45, -8.15), (47.8, -8.15), align=None)
        Polygon((31, -15), (39, -15), (39, -12.8), (43.15, -12.8), (43.15, -10), (38.95, -5.8), (31.05, -5.8), (26.85, -10), (26.85, -12.8), (31, -12.8), align=None)
        with Locations((35, 0)):
            Circle(F0_R)
    extrude(amount=F6_DEPTH)


solid = Compound([f1.part, f3.part, f5.part])
